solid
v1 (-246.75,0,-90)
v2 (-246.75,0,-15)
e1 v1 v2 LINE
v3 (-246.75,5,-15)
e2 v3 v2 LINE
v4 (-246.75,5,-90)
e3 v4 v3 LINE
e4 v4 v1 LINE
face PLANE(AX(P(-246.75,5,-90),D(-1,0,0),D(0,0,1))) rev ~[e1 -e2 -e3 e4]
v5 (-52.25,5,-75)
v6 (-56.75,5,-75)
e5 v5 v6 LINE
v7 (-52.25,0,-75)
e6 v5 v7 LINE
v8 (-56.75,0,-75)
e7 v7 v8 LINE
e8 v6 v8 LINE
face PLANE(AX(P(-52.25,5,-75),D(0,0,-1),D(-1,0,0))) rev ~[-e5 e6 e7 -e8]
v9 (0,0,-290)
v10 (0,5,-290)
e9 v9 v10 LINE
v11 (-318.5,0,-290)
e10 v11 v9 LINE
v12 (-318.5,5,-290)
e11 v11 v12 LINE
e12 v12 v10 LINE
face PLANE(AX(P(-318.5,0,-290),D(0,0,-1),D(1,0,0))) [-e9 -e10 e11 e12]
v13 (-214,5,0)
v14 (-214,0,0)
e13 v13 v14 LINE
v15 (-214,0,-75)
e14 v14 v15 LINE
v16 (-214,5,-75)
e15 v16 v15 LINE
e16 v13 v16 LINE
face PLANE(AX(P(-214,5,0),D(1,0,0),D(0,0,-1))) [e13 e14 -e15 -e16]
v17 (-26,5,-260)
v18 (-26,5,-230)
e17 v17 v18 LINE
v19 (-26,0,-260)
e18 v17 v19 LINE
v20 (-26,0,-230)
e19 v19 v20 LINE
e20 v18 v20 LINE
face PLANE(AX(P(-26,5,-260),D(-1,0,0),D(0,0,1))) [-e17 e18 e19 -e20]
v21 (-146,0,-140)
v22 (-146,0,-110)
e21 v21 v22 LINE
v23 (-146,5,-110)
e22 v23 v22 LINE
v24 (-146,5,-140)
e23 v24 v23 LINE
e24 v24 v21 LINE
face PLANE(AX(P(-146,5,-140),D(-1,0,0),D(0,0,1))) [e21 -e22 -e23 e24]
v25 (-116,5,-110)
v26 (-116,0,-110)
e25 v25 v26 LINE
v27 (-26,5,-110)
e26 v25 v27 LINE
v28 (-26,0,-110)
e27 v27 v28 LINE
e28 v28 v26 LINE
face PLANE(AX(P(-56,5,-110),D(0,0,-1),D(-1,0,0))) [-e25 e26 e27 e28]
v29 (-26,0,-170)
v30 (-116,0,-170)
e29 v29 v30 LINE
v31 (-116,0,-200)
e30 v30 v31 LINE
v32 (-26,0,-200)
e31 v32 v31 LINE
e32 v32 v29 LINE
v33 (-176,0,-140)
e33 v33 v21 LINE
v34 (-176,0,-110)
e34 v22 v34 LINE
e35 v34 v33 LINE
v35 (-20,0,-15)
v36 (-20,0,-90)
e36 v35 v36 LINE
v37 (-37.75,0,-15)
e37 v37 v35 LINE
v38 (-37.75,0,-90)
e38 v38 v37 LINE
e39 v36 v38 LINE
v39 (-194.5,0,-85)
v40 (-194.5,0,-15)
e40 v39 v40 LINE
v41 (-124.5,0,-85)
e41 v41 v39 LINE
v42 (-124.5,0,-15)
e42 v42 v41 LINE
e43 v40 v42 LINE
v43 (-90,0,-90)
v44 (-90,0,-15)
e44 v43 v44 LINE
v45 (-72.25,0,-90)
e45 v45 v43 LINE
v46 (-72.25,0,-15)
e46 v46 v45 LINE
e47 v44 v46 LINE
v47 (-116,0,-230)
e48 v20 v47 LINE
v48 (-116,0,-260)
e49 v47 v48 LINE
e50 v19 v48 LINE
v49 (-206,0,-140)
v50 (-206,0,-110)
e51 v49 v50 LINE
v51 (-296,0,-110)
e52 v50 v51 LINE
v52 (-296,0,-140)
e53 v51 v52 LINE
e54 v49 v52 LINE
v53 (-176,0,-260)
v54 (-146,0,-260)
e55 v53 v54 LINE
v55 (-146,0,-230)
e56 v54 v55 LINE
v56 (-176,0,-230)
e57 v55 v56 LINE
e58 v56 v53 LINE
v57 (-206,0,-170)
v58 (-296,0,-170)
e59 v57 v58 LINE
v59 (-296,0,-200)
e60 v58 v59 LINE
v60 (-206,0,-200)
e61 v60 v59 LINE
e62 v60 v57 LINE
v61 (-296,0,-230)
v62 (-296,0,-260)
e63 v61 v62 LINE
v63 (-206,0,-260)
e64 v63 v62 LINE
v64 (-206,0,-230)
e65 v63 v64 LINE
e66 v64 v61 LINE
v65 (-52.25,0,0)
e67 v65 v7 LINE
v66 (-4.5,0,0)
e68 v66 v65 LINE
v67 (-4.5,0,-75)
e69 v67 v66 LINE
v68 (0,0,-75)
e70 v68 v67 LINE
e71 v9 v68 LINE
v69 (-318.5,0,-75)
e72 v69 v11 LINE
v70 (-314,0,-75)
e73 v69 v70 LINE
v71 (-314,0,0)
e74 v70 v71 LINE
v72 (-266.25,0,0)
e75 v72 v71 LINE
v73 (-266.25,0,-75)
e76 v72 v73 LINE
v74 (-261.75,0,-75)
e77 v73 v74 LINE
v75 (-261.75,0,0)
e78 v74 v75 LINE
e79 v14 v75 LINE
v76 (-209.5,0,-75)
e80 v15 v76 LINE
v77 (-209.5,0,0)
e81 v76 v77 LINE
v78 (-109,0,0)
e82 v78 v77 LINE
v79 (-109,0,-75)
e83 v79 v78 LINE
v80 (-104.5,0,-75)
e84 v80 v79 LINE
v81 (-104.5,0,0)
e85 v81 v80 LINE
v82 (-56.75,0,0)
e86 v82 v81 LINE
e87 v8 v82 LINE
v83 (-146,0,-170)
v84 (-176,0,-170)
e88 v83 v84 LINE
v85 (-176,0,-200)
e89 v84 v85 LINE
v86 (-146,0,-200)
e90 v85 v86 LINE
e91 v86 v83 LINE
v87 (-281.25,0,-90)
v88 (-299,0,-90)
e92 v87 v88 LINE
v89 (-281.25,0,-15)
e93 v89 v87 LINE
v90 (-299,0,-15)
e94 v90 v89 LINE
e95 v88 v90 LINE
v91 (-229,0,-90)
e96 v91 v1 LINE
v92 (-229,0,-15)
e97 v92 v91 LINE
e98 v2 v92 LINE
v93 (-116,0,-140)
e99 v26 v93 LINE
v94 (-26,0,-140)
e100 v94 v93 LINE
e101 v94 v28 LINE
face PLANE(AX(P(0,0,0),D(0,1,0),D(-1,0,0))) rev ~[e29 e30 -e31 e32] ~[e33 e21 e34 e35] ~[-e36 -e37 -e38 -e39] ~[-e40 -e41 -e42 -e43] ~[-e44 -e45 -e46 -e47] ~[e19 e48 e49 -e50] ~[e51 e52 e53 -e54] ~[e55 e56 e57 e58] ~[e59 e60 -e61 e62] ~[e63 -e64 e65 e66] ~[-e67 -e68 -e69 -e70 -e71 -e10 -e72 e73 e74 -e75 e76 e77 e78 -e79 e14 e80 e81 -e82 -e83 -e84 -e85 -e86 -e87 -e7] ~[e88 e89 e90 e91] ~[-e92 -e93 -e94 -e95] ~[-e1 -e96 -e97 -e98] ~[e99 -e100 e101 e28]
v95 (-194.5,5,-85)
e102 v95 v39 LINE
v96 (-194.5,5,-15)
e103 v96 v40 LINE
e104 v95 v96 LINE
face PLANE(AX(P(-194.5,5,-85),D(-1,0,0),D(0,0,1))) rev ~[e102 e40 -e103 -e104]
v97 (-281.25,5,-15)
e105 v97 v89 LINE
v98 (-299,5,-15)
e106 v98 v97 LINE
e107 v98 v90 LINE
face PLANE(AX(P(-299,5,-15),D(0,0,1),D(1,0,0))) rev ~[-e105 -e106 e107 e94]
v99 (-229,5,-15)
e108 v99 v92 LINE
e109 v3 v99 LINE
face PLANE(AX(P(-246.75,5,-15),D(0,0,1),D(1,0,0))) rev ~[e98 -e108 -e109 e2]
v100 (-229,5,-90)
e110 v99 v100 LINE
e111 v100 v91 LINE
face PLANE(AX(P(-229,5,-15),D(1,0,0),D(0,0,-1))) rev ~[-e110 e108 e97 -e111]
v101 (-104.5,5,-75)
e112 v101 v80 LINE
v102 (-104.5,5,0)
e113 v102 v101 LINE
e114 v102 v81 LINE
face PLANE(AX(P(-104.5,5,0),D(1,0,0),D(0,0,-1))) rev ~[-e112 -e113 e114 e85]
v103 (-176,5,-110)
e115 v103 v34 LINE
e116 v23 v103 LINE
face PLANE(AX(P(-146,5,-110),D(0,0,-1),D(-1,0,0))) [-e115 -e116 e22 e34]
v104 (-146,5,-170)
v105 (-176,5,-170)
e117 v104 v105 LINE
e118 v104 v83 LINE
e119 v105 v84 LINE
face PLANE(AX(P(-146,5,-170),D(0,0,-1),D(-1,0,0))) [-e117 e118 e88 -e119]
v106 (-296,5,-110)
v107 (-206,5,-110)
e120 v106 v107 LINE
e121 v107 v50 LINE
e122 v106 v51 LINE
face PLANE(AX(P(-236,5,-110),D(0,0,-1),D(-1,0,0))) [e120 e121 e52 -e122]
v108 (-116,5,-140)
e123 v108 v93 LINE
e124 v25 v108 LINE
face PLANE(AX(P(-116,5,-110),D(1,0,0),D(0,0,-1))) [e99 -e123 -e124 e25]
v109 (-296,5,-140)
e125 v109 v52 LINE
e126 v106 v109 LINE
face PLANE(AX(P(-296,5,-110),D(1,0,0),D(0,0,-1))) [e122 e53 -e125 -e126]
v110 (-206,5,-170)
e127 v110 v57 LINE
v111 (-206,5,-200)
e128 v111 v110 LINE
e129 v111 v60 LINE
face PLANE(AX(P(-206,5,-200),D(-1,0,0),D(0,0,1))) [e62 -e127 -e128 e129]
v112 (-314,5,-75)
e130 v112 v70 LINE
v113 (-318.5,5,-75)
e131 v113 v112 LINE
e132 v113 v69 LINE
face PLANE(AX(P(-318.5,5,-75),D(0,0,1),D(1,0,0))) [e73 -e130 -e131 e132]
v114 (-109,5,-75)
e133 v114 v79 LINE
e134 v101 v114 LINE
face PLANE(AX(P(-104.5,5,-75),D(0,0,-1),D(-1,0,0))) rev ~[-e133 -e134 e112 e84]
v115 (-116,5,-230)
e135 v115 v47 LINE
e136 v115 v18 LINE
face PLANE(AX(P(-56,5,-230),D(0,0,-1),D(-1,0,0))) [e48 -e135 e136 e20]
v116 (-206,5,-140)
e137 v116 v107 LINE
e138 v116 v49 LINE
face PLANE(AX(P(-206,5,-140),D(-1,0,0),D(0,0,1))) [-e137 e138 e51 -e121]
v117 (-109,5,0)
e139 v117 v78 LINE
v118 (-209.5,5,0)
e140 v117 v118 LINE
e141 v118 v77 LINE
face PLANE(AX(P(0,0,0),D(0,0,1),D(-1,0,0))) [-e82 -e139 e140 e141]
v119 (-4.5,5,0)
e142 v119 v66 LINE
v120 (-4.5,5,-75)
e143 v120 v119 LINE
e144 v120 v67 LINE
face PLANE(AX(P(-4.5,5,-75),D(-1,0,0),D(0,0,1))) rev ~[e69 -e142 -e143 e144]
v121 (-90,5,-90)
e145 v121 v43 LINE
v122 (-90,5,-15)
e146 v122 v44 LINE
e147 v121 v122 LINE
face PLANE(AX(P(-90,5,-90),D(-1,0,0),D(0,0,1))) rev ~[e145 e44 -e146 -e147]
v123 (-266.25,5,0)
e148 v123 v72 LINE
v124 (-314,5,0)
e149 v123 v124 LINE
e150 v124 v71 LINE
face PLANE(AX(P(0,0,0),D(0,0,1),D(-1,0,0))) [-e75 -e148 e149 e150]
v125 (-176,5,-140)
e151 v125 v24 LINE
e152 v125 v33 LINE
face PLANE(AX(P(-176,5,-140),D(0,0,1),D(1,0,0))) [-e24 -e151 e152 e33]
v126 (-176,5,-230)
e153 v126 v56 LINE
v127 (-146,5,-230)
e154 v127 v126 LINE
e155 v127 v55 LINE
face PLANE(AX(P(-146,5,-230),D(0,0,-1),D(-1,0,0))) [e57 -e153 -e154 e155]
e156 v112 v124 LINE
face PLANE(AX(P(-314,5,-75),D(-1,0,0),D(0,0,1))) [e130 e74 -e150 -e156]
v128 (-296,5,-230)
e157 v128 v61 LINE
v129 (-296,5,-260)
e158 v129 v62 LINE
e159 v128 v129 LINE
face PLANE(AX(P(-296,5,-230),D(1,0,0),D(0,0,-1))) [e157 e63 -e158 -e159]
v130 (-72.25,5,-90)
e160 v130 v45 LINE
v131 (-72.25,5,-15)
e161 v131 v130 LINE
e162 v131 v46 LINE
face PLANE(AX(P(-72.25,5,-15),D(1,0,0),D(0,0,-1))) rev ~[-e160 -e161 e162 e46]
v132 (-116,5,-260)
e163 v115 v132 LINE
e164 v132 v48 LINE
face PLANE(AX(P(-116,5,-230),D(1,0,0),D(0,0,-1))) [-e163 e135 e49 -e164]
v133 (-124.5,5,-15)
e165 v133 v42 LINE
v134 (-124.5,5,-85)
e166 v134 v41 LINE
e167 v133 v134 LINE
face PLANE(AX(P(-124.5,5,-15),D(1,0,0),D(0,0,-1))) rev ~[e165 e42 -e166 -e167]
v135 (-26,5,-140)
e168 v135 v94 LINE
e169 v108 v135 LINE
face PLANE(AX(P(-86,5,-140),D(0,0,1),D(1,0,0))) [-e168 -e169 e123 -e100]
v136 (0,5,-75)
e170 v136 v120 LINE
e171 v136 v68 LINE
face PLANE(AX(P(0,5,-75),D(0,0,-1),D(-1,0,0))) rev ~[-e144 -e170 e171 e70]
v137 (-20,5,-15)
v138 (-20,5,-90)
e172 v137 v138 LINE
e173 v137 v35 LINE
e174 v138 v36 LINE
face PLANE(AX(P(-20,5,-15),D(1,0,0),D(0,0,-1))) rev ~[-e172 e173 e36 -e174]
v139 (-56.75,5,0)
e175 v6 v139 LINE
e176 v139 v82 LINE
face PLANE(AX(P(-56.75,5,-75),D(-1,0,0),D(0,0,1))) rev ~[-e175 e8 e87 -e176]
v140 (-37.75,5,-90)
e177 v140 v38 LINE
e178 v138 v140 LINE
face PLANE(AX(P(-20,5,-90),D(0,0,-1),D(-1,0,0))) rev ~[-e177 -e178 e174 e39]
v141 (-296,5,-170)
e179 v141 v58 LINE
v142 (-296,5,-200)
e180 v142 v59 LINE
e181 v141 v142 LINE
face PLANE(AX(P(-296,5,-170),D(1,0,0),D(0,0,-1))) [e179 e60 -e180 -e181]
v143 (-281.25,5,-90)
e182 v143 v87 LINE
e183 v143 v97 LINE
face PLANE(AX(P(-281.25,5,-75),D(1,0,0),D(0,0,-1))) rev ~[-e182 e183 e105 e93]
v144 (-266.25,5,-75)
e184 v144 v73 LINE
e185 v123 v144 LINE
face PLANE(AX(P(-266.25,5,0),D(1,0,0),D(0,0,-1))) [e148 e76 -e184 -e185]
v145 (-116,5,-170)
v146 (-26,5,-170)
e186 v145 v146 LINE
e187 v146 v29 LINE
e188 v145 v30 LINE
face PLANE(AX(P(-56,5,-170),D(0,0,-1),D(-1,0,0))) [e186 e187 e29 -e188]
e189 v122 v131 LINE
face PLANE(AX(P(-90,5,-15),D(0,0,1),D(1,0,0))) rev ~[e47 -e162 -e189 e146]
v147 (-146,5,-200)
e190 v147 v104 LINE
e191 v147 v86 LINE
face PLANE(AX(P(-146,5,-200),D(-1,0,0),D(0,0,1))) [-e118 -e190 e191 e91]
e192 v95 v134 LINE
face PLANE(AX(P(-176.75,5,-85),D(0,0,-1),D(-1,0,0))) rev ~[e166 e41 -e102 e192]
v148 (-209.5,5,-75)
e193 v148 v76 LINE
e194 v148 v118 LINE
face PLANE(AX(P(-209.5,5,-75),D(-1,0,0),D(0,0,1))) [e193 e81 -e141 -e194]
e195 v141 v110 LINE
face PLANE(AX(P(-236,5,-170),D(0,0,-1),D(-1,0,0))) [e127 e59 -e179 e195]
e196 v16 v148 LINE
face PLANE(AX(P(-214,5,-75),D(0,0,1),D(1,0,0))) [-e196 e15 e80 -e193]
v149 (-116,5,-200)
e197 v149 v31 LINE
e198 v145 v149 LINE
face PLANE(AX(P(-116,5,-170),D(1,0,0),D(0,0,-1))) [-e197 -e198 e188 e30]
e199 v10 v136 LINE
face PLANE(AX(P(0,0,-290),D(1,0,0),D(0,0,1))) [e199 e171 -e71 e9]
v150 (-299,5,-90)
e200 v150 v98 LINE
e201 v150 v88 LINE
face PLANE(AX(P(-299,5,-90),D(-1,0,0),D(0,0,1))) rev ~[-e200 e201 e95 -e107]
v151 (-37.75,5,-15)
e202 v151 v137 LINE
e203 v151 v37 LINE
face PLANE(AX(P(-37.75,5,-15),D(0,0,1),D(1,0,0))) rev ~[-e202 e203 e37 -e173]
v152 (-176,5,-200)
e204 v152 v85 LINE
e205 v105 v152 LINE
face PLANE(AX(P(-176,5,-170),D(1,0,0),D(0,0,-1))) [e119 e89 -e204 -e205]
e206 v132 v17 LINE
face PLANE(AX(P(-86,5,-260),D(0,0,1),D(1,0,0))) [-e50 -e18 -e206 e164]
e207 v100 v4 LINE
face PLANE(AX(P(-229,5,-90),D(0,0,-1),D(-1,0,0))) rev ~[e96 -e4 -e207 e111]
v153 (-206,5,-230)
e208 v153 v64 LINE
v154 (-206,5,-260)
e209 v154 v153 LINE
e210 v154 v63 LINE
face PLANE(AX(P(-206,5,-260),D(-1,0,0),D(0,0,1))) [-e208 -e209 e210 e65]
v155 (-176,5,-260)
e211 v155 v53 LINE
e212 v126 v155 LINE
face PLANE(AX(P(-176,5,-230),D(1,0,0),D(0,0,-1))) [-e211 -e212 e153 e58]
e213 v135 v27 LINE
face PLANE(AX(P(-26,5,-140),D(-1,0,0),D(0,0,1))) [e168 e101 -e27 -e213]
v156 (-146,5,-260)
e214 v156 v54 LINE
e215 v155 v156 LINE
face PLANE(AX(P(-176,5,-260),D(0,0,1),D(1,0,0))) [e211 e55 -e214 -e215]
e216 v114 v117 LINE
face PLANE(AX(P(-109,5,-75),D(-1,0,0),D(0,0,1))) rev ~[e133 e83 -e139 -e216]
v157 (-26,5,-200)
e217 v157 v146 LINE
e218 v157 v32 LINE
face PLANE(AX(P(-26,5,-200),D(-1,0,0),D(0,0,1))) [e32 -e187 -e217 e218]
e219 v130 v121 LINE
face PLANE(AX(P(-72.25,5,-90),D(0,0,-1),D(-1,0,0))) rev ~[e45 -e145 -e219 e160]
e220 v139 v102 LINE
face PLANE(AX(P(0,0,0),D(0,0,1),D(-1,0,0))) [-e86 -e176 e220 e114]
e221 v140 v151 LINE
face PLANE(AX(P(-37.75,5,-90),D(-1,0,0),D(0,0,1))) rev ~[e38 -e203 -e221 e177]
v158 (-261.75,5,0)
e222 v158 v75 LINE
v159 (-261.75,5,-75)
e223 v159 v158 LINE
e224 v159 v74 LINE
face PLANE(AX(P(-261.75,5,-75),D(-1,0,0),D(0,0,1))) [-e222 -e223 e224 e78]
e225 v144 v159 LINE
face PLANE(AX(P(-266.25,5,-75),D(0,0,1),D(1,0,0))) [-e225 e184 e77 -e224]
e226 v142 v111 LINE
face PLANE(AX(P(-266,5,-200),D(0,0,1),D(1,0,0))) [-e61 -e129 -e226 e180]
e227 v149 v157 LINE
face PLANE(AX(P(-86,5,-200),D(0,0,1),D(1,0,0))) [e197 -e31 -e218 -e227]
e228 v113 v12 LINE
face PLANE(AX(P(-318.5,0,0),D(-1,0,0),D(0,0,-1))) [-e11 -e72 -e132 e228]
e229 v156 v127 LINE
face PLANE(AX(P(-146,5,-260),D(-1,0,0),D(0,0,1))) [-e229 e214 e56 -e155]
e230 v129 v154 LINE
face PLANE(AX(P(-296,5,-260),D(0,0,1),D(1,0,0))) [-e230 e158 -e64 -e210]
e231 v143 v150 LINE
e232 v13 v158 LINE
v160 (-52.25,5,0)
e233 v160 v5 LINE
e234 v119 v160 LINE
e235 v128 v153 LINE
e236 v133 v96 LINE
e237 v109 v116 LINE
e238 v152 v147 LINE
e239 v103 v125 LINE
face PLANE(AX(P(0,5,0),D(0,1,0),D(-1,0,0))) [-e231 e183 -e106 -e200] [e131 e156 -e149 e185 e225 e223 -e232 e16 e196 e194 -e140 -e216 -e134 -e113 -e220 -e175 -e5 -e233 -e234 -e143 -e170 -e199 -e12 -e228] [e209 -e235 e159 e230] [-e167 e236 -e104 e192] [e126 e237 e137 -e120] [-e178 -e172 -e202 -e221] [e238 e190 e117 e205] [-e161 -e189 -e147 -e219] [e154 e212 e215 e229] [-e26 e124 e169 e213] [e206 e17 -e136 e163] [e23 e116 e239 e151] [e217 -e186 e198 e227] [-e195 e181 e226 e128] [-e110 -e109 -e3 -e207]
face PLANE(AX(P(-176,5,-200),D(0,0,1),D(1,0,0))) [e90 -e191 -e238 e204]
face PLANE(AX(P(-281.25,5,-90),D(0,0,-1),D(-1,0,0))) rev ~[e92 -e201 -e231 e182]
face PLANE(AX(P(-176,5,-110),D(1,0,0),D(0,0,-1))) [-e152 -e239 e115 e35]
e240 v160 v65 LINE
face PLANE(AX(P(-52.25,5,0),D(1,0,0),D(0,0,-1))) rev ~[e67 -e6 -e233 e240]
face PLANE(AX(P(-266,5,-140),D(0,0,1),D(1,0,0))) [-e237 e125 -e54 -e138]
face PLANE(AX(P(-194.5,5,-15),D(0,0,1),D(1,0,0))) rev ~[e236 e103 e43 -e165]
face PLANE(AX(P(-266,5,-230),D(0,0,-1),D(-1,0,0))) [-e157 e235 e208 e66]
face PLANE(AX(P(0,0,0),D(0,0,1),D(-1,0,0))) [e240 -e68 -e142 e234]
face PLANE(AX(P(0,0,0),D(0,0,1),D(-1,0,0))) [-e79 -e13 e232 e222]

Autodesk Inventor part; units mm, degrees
ref_plane "YZ Plane" through (0, 0, 0) normal (1, 0, 0) x (0, 1, 0)
ref_plane "XZ Plane" through (0, 0, 0) normal (0, 1, 0) x (-1, 0, 0)
ref_plane "XY Plane" through (0, 0, 0) normal (0, 0, 1) x (1, 0, 0)
sketch "Sketch1" plane through (0, 0, 0) normal (0, 1, 0) x (-1, 0, 0)
  line L0 (0, 0) -> (318.5, 0)
  line L1 (318.5, 0) -> (318.5, -290)
  line L2 (318.5, -290) -> (0, -290)
  line L3 (0, -290) -> (0, 0)
  dimension "d0" = 318.5
  dimension "d1" = 290
extrude "Extrusion1" add sketch "Sketch1" along normal blind 5
sketch "Sketch2" plane through (0, 5, 0) normal (0, 1, 0) x (1, 0, 0)
  line L0 (0, 290) -> (-318.5, 290) projected
  line L1 (-318.5, 290) -> (-318.5, 75)
  line L2 (-318.5, 290) -> (-318.5, 0) projected
  line L3 (-318.5, 0) -> (0, 0) projected
  line L4 (-318.5, 75) -> (-314, 75)
  line L5 (-314, 75) -> (-314, 0)
  line L6 (-314, 0) -> (-318.5, 0)
  line L7 (-318.5, 0) -> (-318.5, 75)
  line L8 (-314, 75) -> (-266.25, 75)
  line L9 (-266.25, 75) -> (-261.75, 75)
  line L10 (-261.75, 75) -> (-261.75, 0)
  line L11 (-261.75, 0) -> (-266.25, 0)
  line L12 (-266.25, 0) -> (-266.25, 75)
  line L13 (-261.75, 75) -> (-214, 75)
  line L14 (-214, 75) -> (-209.5, 75)
  line L15 (-209.5, 75) -> (-209.5, 0)
  line L16 (-209.5, 0) -> (-214, 0)
  line L17 (-214, 0) -> (-214, 75)
  line L18 (-209.5, 75) -> (-162.03, 75)
  line L19 (-159.25, 290) -> (-159.25, 0)
  line L20 (0, 75) -> (-4.5, 75)
  line L21 (-4.5, 75) -> (-4.5, 0)
  line L22 (-4.5, 0) -> (0, 0)
  line L23 (0, 0) -> (0, 75)
  line L24 (-4.5, 75) -> (-52.25, 75)
  line L25 (-52.25, 75) -> (-56.75, 75)
  line L26 (-56.75, 75) -> (-56.75, 0)
  line L27 (-56.75, 0) -> (-52.25, 0)
  line L28 (-52.25, 0) -> (-52.25, 75)
  line L29 (-56.75, 75) -> (-104.5, 75)
  line L30 (-104.5, 75) -> (-109, 75)
  line L31 (-109, 75) -> (-109, 0)
  line L32 (-109, 0) -> (-104.5, 0)
  line L33 (-104.5, 0) -> (-104.5, 75)
  point P0 (-214, 0)
  point P1 (-266.25, 0)
  dimension "d4" = 215
  dimension "d5" = 4.5
  dimension "d6" = 47.75
  dimension "d7" = 4.5
  dimension "d8" = 47.75
  dimension "d9" = 4.5
  dimension "d10" = 47.47
extrude "Extrusion2" cut sketch "Sketch2" against normal blind 5 contours L31 L30 L33 L3 | L4 L5 L3 L2 | L3 L17 L14 L15 | L9 L10 L3 L12 | L26 L25 L28 L3 | L21 L20 L23 L3
sketch "Sketch3" plane through (0, 5, 0) normal (0, 1, 0) x (1, 0, 0)
  line L0 (-318.5, 290) -> (-318.5, 75) projected
  line L1 (-318.5, 290) -> (-296, 290)
  line L2 (-296, 290) -> (-296, 260)
  line L3 (-296, 260) -> (-318.5, 260)
  line L4 (-318.5, 260) -> (-318.5, 290)
  line L5 (-296, 260) -> (-266, 260)
  line L6 (-266, 260) -> (-266, 230)
  line L7 (-266, 230) -> (-296, 230)
  line L8 (-296, 230) -> (-296, 260)
  line L9 (-266, 200) -> (-266, 170)
  line L10 (-266, 170) -> (-296, 170)
  line L11 (-296, 170) -> (-296, 200)
  line L12 (-296, 200) -> (-266, 200)
  line L13 (-266, 140) -> (-266, 110)
  line L14 (-266, 110) -> (-296, 110)
  line L15 (-296, 110) -> (-296, 140)
  line L16 (-296, 140) -> (-266, 140)
  line L17 (-206, 260) -> (-206, 230)
  line L18 (-206, 230) -> (-236, 230)
  line L19 (-236, 230) -> (-236, 260)
  line L20 (-236, 260) -> (-206, 260)
  line L21 (-206, 200) -> (-206, 170)
  line L22 (-206, 170) -> (-236, 170)
  line L23 (-236, 170) -> (-236, 200)
  line L24 (-236, 200) -> (-206, 200)
  line L25 (-206, 140) -> (-206, 110)
  line L26 (-206, 110) -> (-236, 110)
  line L27 (-236, 110) -> (-236, 140)
  line L28 (-236, 140) -> (-206, 140)
  line L29 (-146, 260) -> (-146, 230)
  line L30 (-146, 230) -> (-176, 230)
  line L31 (-176, 230) -> (-176, 260)
  line L32 (-176, 260) -> (-146, 260)
  line L33 (-146, 200) -> (-146, 170)
  line L34 (-146, 170) -> (-176, 170)
  line L35 (-176, 170) -> (-176, 200)
  line L36 (-176, 200) -> (-146, 200)
  line L37 (-146, 140) -> (-146, 110)
  line L38 (-146, 110) -> (-176, 110)
  line L39 (-176, 110) -> (-176, 140)
  line L40 (-176, 140) -> (-146, 140)
  line L41 (-86, 260) -> (-86, 230)
  line L42 (-86, 230) -> (-116, 230)
  line L43 (-116, 230) -> (-116, 260)
  line L44 (-116, 260) -> (-86, 260)
  line L45 (-86, 200) -> (-86, 170)
  line L46 (-86, 170) -> (-116, 170)
  line L47 (-116, 170) -> (-116, 200)
  line L48 (-116, 200) -> (-86, 200)
  line L49 (-86, 140) -> (-86, 110)
  line L50 (-86, 110) -> (-116, 110)
  line L51 (-116, 110) -> (-116, 140)
  line L52 (-116, 140) -> (-86, 140)
  line L53 (-26, 260) -> (-26, 230)
  line L54 (-26, 230) -> (-56, 230)
  line L55 (-56, 230) -> (-56, 260)
  line L56 (-56, 260) -> (-26, 260)
  line L57 (-26, 200) -> (-26, 170)
  line L58 (-26, 170) -> (-56, 170)
  line L59 (-56, 170) -> (-56, 200)
  line L60 (-56, 200) -> (-26, 200)
  line L61 (-26, 140) -> (-26, 110)
  line L62 (-26, 110) -> (-56, 110)
  line L63 (-56, 110) -> (-56, 140)
  line L64 (-56, 140) -> (-26, 140)
  line L65 (-266, 200) -> (-236, 200)
  line L66 (-236, 200) -> (-236, 170)
  line L67 (-236, 170) -> (-266, 170)
  line L68 (-266, 170) -> (-266, 200)
  line L69 (-86, 200) -> (-56, 200)
  line L70 (-56, 200) -> (-56, 170)
  line L71 (-56, 170) -> (-86, 170)
  line L72 (-86, 170) -> (-86, 200)
  line L73 (-86, 260) -> (-56, 260)
  line L74 (-56, 260) -> (-56, 230)
  line L75 (-56, 230) -> (-86, 230)
  line L76 (-86, 230) -> (-86, 260)
  line L77 (-266, 260) -> (-236, 260)
  line L78 (-236, 260) -> (-236, 230)
  line L79 (-236, 230) -> (-266, 230)
  line L80 (-266, 230) -> (-266, 260)
  line L81 (-266, 140) -> (-236, 140)
  line L82 (-236, 140) -> (-236, 110)
  line L83 (-236, 110) -> (-266, 110)
  line L84 (-266, 110) -> (-266, 140)
  line L85 (-86, 140) -> (-56, 140)
  line L86 (-56, 140) -> (-56, 110)
  line L87 (-56, 110) -> (-86, 110)
  line L88 (-86, 110) -> (-86, 140)
  line L89 (-209.5, 0) -> (-109, 0) projected
  line L90 (-209.5, 0) -> (-194.5, 0)
  line L91 (-194.5, 0) -> (-194.5, 15)
  line L92 (-194.5, 15) -> (-209.5, 15)
  line L93 (-209.5, 15) -> (-209.5, 0)
  line L94 (-194.5, 15) -> (-124.5, 15)
  line L95 (-124.5, 15) -> (-124.5, 85)
  line L96 (-124.5, 85) -> (-194.5, 85)
  line L97 (-194.5, 85) -> (-194.5, 15)
  line L98 (-314, 0) -> (-314, 75) projected
  line L99 (-314, 0) -> (-299, 0)
  line L100 (-299, 0) -> (-299, 15)
  line L101 (-299, 15) -> (-314, 15)
  line L102 (-314, 15) -> (-314, 0)
  line L103 (-266.25, 75) -> (-266.25, 0) projected
  line L104 (-266.25, 75) -> (-281.25, 75)
  line L105 (-281.25, 75) -> (-281.25, 90)
  line L106 (-281.25, 90) -> (-266.25, 90)
  line L107 (-266.25, 90) -> (-266.25, 75)
  line L108 (-281.25, 90) -> (-299, 90)
  line L109 (-299, 90) -> (-299, 15)
  line L110 (-299, 15) -> (-281.25, 15)
  line L111 (-281.25, 15) -> (-281.25, 90)
  line L112 (-229, 15) -> (-229, 90)
  line L113 (-246.75, 90) -> (-246.75, 15)
  line L114 (-246.75, 15) -> (-229, 15)
  line L115 (-229, 90) -> (-246.75, 90)
  line L116 (-176.75, 15) -> (-176.75, 90)
  line L117 (-194.5, 90) -> (-194.5, 15)
  line L118 (-194.5, 15) -> (-176.75, 15)
  line L119 (-176.75, 90) -> (-194.5, 90)
  line L120 (-124.5, 15) -> (-124.5, 90)
  line L121 (-142.25, 90) -> (-142.25, 15)
  line L122 (-142.25, 15) -> (-124.5, 15)
  line L123 (-124.5, 90) -> (-142.25, 90)
  line L124 (-72.25, 15) -> (-72.25, 90)
  line L125 (-90, 90) -> (-90, 15)
  line L126 (-90, 15) -> (-72.25, 15)
  line L127 (-72.25, 90) -> (-90, 90)
  line L128 (-20, 15) -> (-20, 90)
  line L129 (-37.75, 90) -> (-37.75, 15)
  line L130 (-37.75, 15) -> (-20, 15)
  line L131 (-20, 90) -> (-37.75, 90)
  point P0 (-209.5, 75)
  dimension "d25" = 22.5
  dimension "d26" = 30
  dimension "d27" = 30
  dimension "d28" = 30
  dimension "d31" = 60
  dimension "d34" = 60
  dimension "d37" = 15
  dimension "d38" = 15
  dimension "d39" = 70
  dimension "d40" = 70
  dimension "d41" = 15
  dimension "d42" = 15
  dimension "d43" = 15
  dimension "d44" = 15
  dimension "d47" = 52.25
extrude "Extrusion3" cut sketch "Sketch3" against normal blind 5 contours L5 L6 L7 L8 | L77 L19 L79 L6 | L20 L17 L18 L19 | L65 L23 L67 L9 | L9 L10 L11 L12 | L24 L21 L22 L23 | L81 L27 L83 L13 | L13 L14 L15 L16 | L28 L25 L26 L27 | L29 L30 L31 L32 | L33 L34 L35 L36 | L37 L38 L39 L40 | L73 L55 L75 L41 | L41 L42 L43 L44 | L56 L53 L54 L55 | L69 L59 L71 L45 | L45 L46 L47 L48 | L60 L57 L58 L59 | L85 L63 L87 L49 | L49 L50 L51 L52 | L64 L61 L62 L63 | L97 L96 L116 L94 | L116 L96 L121 L94 | L121 L96 L95 L94 | L109 L108 L105 L111 L110 | L114 L113 L115 L112 | L126 L125 L127 L124 | L130 L129 L131 L128
properties part number "backrest" material "Foam Core Board"
